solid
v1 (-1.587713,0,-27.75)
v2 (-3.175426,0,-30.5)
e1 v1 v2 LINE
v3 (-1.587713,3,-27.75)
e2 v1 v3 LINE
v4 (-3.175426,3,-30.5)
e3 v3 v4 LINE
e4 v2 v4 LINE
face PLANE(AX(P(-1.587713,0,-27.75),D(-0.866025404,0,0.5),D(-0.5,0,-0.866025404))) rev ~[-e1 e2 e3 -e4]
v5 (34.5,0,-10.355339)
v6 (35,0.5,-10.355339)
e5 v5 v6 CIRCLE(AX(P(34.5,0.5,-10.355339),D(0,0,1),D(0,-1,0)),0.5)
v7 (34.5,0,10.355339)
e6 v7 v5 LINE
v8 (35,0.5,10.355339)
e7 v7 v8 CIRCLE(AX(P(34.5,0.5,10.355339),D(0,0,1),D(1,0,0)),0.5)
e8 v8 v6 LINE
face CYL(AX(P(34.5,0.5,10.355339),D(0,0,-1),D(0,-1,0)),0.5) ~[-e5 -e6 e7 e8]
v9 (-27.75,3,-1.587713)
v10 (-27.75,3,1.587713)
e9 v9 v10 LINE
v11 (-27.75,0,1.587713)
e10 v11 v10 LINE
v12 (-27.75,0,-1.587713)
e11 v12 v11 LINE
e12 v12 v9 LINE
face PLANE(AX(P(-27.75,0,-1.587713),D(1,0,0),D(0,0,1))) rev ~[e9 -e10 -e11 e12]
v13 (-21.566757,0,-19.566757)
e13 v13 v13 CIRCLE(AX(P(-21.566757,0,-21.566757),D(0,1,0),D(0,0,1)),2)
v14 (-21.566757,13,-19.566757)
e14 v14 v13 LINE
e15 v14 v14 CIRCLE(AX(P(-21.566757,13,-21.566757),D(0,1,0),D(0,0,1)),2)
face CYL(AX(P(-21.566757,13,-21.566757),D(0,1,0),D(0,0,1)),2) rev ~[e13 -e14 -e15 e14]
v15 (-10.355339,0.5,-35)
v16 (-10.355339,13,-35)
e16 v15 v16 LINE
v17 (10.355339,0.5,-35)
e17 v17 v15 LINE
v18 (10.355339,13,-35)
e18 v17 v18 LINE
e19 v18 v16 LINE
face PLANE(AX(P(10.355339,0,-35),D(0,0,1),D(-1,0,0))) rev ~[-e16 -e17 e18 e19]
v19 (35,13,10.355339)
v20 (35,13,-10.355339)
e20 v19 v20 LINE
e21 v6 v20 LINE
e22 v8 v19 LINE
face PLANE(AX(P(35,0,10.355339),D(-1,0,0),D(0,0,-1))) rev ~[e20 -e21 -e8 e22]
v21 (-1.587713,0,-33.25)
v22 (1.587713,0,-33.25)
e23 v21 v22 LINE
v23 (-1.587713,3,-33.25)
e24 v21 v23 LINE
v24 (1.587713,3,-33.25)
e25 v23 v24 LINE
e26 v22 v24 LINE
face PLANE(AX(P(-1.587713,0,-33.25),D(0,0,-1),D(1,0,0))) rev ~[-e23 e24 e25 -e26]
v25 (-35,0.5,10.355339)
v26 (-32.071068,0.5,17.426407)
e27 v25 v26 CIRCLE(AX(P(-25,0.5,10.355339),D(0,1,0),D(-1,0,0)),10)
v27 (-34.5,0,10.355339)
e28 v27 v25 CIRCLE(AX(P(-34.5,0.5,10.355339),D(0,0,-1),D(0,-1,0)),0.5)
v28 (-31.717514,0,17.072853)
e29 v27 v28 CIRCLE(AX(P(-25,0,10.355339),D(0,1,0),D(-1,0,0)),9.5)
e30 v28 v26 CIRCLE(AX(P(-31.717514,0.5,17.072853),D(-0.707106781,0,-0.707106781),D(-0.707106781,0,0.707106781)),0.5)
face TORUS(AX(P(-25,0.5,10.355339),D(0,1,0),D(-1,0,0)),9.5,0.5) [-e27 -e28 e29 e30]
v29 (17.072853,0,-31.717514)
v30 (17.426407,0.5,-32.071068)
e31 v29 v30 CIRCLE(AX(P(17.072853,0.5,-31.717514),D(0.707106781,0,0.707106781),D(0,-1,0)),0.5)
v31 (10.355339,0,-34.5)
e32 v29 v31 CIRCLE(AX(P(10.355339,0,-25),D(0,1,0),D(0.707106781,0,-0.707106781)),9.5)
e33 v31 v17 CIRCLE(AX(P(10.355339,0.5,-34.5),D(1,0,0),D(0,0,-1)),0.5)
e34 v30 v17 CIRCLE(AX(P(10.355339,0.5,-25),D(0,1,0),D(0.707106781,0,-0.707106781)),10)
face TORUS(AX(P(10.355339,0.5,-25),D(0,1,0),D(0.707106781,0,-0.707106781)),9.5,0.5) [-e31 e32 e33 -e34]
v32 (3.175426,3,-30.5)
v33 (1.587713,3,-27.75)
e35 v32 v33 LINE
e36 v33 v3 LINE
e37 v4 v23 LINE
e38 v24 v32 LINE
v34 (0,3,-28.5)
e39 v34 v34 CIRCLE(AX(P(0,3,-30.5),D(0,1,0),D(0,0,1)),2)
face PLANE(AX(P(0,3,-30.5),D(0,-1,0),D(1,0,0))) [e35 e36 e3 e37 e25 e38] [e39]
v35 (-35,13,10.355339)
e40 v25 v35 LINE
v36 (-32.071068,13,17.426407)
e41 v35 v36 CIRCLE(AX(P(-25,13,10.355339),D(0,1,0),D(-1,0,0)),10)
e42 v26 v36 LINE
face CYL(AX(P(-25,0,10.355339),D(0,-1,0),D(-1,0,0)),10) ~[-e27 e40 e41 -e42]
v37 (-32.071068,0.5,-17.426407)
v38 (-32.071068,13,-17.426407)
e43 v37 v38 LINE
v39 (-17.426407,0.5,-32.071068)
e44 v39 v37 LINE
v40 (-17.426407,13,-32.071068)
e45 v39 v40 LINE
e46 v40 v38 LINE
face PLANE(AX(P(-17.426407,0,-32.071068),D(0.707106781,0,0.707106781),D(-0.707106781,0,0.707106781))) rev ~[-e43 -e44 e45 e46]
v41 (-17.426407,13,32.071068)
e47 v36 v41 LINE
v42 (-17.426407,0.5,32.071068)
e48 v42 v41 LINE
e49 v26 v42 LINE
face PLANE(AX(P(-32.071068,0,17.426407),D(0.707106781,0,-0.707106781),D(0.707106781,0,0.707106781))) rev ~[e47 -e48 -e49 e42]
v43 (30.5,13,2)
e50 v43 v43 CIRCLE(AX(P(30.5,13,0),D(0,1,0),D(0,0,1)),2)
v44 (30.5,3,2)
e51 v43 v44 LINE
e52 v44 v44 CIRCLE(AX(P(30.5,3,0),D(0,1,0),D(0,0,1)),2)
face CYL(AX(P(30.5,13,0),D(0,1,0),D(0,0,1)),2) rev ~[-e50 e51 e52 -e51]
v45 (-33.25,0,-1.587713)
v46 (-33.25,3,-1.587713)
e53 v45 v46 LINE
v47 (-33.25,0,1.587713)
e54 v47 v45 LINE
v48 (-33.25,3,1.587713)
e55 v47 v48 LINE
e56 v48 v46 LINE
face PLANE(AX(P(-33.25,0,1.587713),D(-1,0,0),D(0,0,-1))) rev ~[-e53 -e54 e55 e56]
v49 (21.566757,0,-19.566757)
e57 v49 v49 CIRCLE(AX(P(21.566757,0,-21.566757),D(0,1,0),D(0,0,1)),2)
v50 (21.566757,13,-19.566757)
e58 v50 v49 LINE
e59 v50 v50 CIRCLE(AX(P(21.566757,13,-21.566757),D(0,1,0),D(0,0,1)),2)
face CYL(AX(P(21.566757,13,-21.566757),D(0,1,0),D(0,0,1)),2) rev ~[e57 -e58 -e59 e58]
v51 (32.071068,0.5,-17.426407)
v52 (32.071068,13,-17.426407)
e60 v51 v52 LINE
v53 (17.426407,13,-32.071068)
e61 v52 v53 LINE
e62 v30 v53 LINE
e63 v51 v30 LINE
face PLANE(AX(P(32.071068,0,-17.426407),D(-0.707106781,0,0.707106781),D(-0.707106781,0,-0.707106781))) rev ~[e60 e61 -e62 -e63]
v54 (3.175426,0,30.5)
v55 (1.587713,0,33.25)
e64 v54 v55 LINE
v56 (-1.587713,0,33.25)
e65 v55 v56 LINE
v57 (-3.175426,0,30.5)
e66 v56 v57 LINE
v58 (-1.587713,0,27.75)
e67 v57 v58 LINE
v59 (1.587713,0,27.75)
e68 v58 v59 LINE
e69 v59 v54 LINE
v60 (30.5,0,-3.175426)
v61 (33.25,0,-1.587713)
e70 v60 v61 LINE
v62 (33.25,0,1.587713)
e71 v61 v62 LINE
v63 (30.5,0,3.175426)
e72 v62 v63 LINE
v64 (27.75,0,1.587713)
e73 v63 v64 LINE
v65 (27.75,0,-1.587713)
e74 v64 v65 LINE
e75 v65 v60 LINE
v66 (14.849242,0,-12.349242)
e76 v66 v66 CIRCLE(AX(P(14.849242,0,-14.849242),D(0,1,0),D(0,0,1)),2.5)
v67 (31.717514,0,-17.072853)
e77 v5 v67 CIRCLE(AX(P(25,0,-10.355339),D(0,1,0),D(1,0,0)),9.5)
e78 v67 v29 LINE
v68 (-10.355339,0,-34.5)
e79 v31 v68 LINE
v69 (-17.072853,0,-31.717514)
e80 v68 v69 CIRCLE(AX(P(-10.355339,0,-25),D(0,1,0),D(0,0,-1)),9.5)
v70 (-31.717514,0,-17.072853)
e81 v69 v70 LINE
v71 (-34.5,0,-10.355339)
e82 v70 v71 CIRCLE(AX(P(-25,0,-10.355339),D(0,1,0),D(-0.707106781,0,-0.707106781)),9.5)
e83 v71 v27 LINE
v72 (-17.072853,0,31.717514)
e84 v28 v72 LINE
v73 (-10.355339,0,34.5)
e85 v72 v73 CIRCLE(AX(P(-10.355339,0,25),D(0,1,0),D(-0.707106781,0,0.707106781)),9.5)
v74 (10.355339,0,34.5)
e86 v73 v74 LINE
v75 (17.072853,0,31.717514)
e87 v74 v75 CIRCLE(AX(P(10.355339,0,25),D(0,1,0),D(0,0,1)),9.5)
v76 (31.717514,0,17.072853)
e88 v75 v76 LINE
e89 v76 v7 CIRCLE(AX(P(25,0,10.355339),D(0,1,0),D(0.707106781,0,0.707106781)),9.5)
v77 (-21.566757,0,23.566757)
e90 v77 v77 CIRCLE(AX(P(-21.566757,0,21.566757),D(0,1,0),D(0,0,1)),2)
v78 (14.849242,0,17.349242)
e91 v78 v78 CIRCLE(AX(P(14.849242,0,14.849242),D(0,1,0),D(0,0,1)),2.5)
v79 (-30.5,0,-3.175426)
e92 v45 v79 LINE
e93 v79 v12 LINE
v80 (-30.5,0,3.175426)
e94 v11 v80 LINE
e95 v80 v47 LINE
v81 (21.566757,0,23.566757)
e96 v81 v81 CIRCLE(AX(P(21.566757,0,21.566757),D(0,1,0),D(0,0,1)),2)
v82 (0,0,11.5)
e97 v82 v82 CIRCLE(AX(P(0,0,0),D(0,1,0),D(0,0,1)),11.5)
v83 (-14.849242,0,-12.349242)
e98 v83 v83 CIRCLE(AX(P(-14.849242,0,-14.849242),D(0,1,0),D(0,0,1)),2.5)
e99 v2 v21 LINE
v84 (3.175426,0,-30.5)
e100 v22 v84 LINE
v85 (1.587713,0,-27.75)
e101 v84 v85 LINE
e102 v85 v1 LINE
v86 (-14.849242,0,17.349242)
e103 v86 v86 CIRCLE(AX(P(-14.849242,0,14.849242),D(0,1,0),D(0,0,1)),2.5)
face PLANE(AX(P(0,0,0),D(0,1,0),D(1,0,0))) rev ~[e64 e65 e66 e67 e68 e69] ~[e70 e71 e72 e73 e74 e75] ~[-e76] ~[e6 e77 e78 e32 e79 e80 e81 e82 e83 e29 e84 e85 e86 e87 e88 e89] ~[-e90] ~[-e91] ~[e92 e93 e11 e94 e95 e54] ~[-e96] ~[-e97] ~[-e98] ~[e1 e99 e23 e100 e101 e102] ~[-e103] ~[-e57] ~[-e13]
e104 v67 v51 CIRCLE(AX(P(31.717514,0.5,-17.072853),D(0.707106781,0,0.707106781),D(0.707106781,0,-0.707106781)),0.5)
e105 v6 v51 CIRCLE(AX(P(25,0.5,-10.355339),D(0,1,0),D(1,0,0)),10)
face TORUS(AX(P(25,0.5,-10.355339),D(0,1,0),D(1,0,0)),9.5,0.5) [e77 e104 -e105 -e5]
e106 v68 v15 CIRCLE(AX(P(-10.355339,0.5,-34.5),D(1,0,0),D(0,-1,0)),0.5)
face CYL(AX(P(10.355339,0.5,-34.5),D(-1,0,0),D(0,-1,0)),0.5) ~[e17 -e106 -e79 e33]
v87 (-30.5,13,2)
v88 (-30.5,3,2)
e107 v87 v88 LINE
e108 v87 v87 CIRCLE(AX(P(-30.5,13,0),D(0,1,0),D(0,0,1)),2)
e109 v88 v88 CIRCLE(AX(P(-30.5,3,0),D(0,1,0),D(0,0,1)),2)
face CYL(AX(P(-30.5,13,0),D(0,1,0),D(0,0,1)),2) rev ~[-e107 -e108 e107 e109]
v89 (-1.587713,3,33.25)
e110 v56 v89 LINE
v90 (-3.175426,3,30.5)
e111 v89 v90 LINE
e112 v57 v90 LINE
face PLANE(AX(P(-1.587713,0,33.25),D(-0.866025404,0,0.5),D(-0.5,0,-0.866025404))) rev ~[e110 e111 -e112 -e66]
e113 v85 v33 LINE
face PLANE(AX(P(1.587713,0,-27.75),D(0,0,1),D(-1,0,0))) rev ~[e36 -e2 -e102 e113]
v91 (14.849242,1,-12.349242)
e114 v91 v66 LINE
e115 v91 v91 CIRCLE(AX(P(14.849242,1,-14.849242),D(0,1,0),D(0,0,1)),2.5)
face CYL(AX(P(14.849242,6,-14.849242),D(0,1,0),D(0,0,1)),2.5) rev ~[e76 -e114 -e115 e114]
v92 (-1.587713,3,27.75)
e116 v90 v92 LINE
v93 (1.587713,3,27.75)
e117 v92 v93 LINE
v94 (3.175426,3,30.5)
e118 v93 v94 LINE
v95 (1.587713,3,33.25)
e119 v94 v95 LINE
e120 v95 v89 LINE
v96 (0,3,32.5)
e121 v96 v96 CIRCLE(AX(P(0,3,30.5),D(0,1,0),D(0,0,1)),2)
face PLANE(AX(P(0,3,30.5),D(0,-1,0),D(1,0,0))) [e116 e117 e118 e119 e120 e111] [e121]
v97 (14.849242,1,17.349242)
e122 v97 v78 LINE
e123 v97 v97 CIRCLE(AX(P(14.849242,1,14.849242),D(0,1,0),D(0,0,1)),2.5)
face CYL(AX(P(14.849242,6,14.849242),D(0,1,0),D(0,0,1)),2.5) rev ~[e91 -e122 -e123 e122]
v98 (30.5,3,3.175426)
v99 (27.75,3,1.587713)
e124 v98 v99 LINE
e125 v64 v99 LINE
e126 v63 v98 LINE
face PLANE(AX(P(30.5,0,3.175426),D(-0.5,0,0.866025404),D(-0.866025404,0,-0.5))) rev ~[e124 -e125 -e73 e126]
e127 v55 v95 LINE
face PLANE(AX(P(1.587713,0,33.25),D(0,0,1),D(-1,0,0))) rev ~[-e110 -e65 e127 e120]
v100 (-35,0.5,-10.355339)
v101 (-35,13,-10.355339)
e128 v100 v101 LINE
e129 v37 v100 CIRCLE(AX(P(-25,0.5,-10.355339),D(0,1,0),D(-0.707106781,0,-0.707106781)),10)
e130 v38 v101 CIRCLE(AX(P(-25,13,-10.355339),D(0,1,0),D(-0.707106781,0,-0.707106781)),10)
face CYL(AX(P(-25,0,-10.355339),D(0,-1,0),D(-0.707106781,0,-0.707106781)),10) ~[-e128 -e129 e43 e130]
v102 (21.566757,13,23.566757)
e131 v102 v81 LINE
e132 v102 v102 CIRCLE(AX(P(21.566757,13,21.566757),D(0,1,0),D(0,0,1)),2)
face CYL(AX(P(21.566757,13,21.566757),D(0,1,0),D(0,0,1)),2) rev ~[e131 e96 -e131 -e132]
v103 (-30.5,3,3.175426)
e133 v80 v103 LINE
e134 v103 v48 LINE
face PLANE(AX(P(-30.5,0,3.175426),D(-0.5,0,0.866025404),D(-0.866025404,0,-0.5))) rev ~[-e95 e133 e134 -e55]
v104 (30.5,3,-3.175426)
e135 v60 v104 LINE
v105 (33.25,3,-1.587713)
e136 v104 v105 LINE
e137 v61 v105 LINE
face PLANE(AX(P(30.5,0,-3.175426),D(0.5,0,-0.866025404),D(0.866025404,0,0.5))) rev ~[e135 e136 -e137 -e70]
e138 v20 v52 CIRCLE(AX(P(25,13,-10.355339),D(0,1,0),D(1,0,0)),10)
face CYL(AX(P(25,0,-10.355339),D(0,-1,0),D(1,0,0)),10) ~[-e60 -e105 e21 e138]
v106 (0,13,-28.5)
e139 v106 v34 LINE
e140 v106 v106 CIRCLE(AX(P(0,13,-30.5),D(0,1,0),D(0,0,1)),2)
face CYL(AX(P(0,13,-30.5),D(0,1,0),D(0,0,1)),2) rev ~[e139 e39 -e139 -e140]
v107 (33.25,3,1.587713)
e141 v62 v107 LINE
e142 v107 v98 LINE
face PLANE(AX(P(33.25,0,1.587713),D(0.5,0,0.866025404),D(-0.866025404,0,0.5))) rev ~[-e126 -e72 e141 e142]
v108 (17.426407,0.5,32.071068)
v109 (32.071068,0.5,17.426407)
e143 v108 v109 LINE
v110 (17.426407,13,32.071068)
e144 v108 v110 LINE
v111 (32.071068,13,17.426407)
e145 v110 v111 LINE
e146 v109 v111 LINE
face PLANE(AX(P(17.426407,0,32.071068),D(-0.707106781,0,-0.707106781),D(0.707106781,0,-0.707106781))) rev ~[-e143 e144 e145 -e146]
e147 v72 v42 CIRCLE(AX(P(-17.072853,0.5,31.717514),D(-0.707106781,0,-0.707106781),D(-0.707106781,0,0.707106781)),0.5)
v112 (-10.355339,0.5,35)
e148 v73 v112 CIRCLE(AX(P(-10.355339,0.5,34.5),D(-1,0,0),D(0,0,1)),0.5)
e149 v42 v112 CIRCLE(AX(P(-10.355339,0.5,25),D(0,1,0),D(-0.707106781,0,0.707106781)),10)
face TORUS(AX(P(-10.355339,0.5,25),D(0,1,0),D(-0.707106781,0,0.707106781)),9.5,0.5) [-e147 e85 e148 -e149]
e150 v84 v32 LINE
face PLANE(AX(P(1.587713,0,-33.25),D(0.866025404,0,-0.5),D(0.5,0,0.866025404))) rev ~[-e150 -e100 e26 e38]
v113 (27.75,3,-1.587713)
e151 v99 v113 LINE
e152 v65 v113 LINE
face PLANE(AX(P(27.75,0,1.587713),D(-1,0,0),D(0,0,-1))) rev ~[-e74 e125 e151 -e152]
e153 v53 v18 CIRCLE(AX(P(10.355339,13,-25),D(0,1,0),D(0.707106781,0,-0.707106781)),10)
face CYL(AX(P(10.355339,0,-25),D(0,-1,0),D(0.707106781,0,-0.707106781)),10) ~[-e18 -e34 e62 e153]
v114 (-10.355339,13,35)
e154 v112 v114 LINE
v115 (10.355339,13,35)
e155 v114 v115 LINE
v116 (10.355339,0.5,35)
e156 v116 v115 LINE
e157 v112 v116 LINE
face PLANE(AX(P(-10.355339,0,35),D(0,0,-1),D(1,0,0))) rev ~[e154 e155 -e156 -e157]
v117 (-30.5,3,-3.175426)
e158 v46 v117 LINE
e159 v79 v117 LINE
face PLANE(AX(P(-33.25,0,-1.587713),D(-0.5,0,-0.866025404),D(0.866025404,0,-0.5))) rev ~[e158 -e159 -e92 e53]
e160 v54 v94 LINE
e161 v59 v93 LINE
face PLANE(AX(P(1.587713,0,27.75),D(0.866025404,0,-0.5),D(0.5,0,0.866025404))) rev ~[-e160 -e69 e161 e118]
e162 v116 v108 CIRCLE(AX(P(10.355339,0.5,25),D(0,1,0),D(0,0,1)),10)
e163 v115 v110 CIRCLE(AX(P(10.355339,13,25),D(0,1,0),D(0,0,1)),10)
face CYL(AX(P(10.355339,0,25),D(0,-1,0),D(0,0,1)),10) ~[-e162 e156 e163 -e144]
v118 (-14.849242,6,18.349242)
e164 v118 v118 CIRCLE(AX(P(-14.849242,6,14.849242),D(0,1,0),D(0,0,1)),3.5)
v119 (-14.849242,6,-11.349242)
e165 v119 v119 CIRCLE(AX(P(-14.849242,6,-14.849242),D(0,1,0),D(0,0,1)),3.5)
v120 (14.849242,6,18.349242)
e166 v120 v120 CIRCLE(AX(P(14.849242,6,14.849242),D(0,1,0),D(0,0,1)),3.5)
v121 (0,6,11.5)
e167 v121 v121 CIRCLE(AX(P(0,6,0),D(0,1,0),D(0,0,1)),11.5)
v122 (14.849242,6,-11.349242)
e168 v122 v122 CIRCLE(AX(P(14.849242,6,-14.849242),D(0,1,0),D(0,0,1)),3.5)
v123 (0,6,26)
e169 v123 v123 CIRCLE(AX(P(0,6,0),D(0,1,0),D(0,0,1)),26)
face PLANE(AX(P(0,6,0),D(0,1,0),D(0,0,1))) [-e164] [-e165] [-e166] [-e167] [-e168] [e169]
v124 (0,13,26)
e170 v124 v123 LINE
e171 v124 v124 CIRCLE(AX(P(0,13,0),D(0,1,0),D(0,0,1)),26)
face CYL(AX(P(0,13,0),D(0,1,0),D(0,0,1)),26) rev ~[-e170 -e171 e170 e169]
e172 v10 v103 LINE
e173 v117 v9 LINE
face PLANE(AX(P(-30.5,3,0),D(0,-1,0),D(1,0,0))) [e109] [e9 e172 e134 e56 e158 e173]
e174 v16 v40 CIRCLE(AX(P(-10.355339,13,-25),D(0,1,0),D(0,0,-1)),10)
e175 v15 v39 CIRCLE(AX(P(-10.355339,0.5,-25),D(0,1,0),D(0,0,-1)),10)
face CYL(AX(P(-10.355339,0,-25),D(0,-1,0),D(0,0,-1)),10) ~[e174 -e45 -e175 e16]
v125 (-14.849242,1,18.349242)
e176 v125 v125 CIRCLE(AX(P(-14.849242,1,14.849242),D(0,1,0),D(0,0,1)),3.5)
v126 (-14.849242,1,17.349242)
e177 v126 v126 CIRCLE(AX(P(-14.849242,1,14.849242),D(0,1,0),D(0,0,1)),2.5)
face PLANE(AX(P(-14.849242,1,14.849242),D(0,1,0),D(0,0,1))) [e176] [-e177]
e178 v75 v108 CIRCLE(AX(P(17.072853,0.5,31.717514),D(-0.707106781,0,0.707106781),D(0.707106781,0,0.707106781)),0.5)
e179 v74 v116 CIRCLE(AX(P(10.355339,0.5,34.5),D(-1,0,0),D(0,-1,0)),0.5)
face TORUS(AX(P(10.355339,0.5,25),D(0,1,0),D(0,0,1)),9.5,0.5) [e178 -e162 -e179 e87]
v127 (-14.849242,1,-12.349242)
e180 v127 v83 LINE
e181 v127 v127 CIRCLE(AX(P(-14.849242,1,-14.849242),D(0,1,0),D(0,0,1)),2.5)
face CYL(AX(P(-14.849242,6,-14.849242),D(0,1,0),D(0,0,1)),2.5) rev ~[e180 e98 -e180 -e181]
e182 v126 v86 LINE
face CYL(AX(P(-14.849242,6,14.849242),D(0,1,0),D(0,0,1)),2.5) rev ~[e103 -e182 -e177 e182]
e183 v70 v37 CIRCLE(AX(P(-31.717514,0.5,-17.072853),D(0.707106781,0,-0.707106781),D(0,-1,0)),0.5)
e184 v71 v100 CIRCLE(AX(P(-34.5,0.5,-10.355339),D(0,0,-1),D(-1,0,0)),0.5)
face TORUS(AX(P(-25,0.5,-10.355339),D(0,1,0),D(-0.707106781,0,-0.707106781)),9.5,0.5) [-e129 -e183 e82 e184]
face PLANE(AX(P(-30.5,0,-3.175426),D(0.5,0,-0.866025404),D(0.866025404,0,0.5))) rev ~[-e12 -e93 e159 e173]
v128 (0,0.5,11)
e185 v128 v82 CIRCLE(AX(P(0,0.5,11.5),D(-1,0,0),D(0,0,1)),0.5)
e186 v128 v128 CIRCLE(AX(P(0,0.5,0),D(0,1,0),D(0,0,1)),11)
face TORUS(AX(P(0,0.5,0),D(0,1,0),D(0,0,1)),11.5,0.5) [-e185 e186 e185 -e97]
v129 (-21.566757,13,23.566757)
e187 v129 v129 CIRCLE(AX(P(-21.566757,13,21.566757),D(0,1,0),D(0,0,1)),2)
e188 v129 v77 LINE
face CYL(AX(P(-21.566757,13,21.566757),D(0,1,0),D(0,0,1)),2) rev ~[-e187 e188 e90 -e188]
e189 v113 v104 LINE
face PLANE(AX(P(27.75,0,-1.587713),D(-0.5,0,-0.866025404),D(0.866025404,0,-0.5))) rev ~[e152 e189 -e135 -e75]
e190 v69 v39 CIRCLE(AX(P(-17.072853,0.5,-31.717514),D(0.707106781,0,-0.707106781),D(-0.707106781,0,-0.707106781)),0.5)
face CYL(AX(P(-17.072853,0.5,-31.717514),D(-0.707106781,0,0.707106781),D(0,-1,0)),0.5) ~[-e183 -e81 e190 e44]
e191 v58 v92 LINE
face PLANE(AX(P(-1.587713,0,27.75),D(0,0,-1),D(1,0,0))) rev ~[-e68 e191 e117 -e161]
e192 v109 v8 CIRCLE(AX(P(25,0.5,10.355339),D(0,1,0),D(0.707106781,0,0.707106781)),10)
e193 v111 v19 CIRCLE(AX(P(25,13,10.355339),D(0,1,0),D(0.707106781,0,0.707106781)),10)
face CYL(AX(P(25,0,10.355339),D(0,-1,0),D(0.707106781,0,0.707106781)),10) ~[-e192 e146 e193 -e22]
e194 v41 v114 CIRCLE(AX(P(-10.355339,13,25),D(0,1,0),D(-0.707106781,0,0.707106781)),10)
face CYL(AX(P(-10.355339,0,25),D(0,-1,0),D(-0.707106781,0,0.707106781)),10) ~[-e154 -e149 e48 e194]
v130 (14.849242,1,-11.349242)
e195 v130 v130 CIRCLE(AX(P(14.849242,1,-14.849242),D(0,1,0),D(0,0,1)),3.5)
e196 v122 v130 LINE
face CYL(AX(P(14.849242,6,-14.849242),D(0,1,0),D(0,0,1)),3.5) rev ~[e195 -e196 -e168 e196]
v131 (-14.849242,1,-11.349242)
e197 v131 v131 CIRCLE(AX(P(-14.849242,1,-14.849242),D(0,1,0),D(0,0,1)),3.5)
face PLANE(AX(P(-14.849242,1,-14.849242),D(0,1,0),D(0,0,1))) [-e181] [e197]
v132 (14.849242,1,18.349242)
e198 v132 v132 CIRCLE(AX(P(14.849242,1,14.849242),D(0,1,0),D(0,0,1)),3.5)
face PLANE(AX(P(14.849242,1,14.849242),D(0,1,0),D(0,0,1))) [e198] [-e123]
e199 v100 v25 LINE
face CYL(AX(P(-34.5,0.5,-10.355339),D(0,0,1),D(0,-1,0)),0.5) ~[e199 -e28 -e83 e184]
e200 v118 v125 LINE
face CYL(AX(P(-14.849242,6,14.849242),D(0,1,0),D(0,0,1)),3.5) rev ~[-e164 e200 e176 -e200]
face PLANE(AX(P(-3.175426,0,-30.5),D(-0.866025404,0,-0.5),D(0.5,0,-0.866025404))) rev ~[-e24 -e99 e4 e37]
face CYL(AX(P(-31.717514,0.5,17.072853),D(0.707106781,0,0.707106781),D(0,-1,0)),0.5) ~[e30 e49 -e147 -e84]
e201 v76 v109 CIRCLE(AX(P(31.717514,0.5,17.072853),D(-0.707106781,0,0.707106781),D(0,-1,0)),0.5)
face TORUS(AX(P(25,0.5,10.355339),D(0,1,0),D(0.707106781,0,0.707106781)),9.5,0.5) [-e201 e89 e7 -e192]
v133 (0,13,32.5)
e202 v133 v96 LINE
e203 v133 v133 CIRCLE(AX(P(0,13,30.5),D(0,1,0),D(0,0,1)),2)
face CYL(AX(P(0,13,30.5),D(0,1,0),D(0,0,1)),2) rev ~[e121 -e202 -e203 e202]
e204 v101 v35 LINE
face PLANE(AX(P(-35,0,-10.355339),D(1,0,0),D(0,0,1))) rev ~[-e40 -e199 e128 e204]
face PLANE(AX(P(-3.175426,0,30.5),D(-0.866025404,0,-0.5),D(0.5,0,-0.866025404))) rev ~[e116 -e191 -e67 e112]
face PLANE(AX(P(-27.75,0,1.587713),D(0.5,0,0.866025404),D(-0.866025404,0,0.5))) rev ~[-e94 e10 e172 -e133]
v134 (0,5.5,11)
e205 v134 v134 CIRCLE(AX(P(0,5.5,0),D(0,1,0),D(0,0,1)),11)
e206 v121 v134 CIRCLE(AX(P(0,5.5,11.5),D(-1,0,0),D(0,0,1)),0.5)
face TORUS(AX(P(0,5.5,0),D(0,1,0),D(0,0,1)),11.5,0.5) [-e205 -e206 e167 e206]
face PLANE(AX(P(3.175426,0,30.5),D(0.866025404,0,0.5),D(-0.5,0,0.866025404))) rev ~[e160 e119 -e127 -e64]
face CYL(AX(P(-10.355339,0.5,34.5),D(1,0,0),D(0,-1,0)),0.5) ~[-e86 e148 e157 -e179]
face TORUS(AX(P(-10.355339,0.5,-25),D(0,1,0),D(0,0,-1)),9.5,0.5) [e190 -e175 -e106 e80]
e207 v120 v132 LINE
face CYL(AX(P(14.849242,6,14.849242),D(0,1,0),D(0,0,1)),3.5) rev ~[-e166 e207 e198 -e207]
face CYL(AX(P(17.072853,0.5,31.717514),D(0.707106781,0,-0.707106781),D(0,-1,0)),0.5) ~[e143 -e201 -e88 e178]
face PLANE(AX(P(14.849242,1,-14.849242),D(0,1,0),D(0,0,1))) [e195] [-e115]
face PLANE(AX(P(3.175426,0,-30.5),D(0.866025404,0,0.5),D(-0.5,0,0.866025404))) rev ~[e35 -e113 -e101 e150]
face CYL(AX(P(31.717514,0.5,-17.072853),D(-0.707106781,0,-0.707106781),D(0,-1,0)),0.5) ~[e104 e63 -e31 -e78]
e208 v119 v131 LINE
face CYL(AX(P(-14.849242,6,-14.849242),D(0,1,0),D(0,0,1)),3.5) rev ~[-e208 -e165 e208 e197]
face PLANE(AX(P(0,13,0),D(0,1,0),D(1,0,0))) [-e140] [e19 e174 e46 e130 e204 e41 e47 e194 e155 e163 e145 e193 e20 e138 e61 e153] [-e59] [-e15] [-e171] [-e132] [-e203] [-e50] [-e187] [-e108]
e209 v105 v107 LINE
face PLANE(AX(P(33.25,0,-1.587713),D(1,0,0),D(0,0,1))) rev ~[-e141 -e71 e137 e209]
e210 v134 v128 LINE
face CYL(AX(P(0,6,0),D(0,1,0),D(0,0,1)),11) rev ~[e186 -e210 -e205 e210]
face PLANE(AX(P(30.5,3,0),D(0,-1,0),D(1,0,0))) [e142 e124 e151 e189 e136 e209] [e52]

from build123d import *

# Parameters (mm, degrees)
SKETCH1_R           = 32
BOSS_EXTRUDE1_DEPTH = 13
SKETCH2_R           = 27
CUT_EXTRUDE1_DEPTH  = 7
SKETCH3_R           = 2.5
CUT_EXTRUDE2_DEPTH  = 46.793012567
SKETCH4_R           = 3.5
CUT_EXTRUDE3_DEPTH  = 5
BOSS_EXTRUDE2_START = 7
SKETCH7_R           = 27
SKETCH7_R_2         = 26
BOSS_EXTRUDE2_DEPTH = 7
SKETCH8_R           = 11
CUT_EXTRUDE6_DEPTH  = 46.793012567
FILLET2_R           = 0.5
SKETCH10_R          = 32
BOSS_EXTRUDE3_DEPTH = 13
SKETCH11_R          = 2
CUT_EXTRUDE9_DEPTH  = 52.176166328
FILLET3_R           = 0.5
SKETCH5_R           = 2
CUT_EXTRUDE11_DEPTH = 52.176166464
CUT_EXTRUDE12_DEPTH = 3


with BuildPart() as part:
    # Sketch1 → Boss-Extrude1 (new body)
    with BuildSketch(Plane(origin=(0, 0, 0), x_dir=(1, 0, 0), z_dir=(0, 1, 0))):
        with Locations(Location((0, 0, 0), (0, 0, 90))):
            Circle(SKETCH1_R)
    extrude(amount=BOSS_EXTRUDE1_DEPTH)

    # Sketch2 → Cut-Extrude1 (cut)
    with BuildSketch(Plane(origin=(0, 13, 0), x_dir=(1, 0, 0), z_dir=(0, 1, 0))):
        with Locations(Location((0, 0, 0), (0, 0, 270))):
            Circle(SKETCH2_R)
    extrude(amount=-CUT_EXTRUDE1_DEPTH, mode=Mode.SUBTRACT)

    # Sketch3 → Cut-Extrude2 (cut, through all)
    with BuildSketch(Plane(origin=(0, 6, 0), x_dir=(1, 0, 0), z_dir=(0, 1, 0))):
        with Locations(Location((-14.849242405, 14.849242405, 0), (0, 0, 270))):
            Circle(SKETCH3_R)
        with Locations(Location((14.849242405, 14.849242405, 0), (0, 0, 270))):
            Circle(SKETCH3_R)
        with Locations(Location((14.849242405, -14.849242405, 0), (0, 0, 270))):
            Circle(SKETCH3_R)
        with Locations(Location((-14.849242405, -14.849242405, 0), (0, 0, 270))):
            Circle(SKETCH3_R)
    extrude(amount=-CUT_EXTRUDE2_DEPTH, mode=Mode.SUBTRACT)

    # Sketch4 → Cut-Extrude3 (cut)
    with BuildSketch(Plane(origin=(0, 6, 0), x_dir=(1, 0, 0), z_dir=(0, 1, 0))):
        with Locations(Location((-14.849242405, 14.849242405, 0), (0, 0, 270))):
            Circle(SKETCH4_R)
        with Locations(Location((14.849242405, 14.849242405, 0), (0, 0, 270))):
            Circle(SKETCH4_R)
        with Locations(Location((14.849242405, -14.849242405, 0), (0, 0, 270))):
            Circle(SKETCH4_R)
        with Locations(Location((-14.849242405, -14.849242405, 0), (0, 0, 270))):
            Circle(SKETCH4_R)
    extrude(amount=-CUT_EXTRUDE3_DEPTH, mode=Mode.SUBTRACT)

    # Sketch7 → Boss-Extrude2 (add)
    with BuildSketch(Plane(origin=(0, 6, 0), x_dir=(1, 0, 0), z_dir=(0, 1, 0)).offset(BOSS_EXTRUDE2_START)):
        Circle(SKETCH7_R)
        with Locations(Location((0, 0, 0), (0, 0, 270))):
            Circle(SKETCH7_R_2, mode=Mode.SUBTRACT)
    extrude(amount=-BOSS_EXTRUDE2_DEPTH)

    # Sketch8 → Cut-Extrude6 (cut, through all)
    with BuildSketch(Plane(origin=(0, 6, 0), x_dir=(1, 0, 0), z_dir=(0, 1, 0))):
        with Locations(Location((0, 0, 0), (0, 0, 270))):
            Circle(SKETCH8_R)
    extrude(amount=-CUT_EXTRUDE6_DEPTH, mode=Mode.SUBTRACT)

    # Fillet2
    fillet2_edges = [part.edges().sort_by_distance(p)[0] for p in [
        (0, 0, -11),
        (0, 6, -11),
    ]]
    fillet(fillet2_edges, radius=FILLET2_R)

    # Sketch10 → Boss-Extrude3 (add)
    with BuildSketch(Plane(origin=(0, 0, 0), x_dir=(1, 0, 0), z_dir=(0, 1, 0))):
        with BuildLine():
            Line((10.355339059, 35), (-10.355339059, 35))
            ThreePointArc((-10.355339059, 35), (-14.182173383, 34.238795325), (-17.426406871, 32.071067812))
            Line((-17.426406871, 32.071067812), (-32.071067812, 17.426406871))
            ThreePointArc((-32.071067812, 17.426406871), (-34.238795325, 14.182173383), (-35, 10.355339059))
            Line((-35, 10.355339059), (-35, -10.355339059))
            ThreePointArc((-35, -10.355339059), (-34.238795325, -14.182173383), (-32.071067812, -17.426406871))
            Line((-32.071067812, -17.426406871), (-17.426406871, -32.071067812))
            ThreePointArc((-17.426406871, -32.071067812), (-14.182173383, -34.238795325), (-10.355339059, -35))
            Line((-10.355339059, -35), (10.355339059, -35))
            ThreePointArc((10.355339059, -35), (14.182173383, -34.238795325), (17.426406871, -32.071067812))
            Line((17.426406871, -32.071067812), (32.071067812, -17.426406871))
            ThreePointArc((32.071067812, -17.426406871), (34.238795325, -14.182173383), (35, -10.355339059))
            Line((35, -10.355339059), (35, 10.355339059))
            ThreePointArc((35, 10.355339059), (34.238795325, 14.182173383), (32.071067812, 17.426406871))
            Line((32.071067812, 17.426406871), (17.426406871, 32.071067812))
            ThreePointArc((17.426406871, 32.071067812), (14.182173383, 34.238795325), (10.355339059, 35))
        make_face()
        Circle(SKETCH10_R, mode=Mode.SUBTRACT)
    extrude(amount=BOSS_EXTRUDE3_DEPTH)

    # Sketch11 → Cut-Extrude9 (cut, through all)
    with BuildSketch(Plane(origin=(0, 13, 0), x_dir=(1, 0, 0), z_dir=(0, 1, 0))):
        with Locations(Location((-21.566756826, 21.566756826, 0), (0, 0, 270))):
            Circle(SKETCH11_R)
        with Locations(Location((21.566756826, 21.566756826, 0), (0, 0, 270))):
            Circle(SKETCH11_R)
        with Locations(Location((21.566756826, -21.566756826, 0), (0, 0, 270))):
            Circle(SKETCH11_R)
        with Locations(Location((-21.566756826, -21.566756826, 0), (0, 0, 270))):
            Circle(SKETCH11_R)
    extrude(amount=-CUT_EXTRUDE9_DEPTH, mode=Mode.SUBTRACT)

    # Fillet3
    fillet3_edges = [part.edges().sort_by_distance(p)[0] for p in [
        (-14.182173383, 0, 34.238795325),
        (0, 0, 35),
        (14.182173383, 0, 34.238795325),
        (24.748737342, 0, 24.748737342),
        (34.238795325, 0, 14.182173383),
        (35, 0, 0),
        (34.238795325, 0, -14.182173383),
        (24.748737342, 0, -24.748737342),
        (14.182173383, 0, -34.238795325),
        (0, 0, -35),
        (-14.182173383, 0, -34.238795325),
        (-24.748737342, 0, -24.748737342),
        (-34.238795325, 0, -14.182173383),
        (-35, 0, 0),
        (-34.238795325, 0, 14.182173383),
        (-24.748737342, 0, 24.748737342),
    ]]
    fillet(fillet3_edges, radius=FILLET3_R)

    # Sketch5 → Cut-Extrude11 (cut, through all)
    with BuildSketch(Plane(origin=(0, 13, 0), x_dir=(1, 0, 0), z_dir=(0, 1, 0))):
        with Locations(Location((0, 30.5, 0), (0, 0, 270))):
            Circle(SKETCH5_R)
        with Locations(Location((30.5, 0, 0), (0, 0, 270))):
            Circle(SKETCH5_R)
        with Locations(Location((0, -30.5, 0), (0, 0, 270))):
            Circle(SKETCH5_R)
        with Locations(Location((-30.5, 0, 0), (0, 0, 270))):
            Circle(SKETCH5_R)
    extrude(amount=-CUT_EXTRUDE11_DEPTH, mode=Mode.SUBTRACT)

    # Sketch12 → Cut-Extrude12 (cut)
    with BuildSketch(Plane.XZ):
        Polygon((-3.175426481, 30.5), (-1.58771324, 27.75), (1.58771324, 27.75), (3.175426481, 30.5), (1.58771324, 33.25), (-1.58771324, 33.25), align=None)
        Polygon((-30.5, -3.175426481), (-27.75, -1.58771324), (-27.75, 1.58771324), (-30.5, 3.175426481), (-33.25, 1.58771324), (-33.25, -1.58771324), align=None)
        Polygon((30.5, 3.175426481), (27.75, 1.58771324), (27.75, -1.58771324), (30.5, -3.175426481), (33.25, -1.58771324), (33.25, 1.58771324), align=None)
        Polygon((3.175426481, -30.5), (1.58771324, -27.75), (-1.58771324, -27.75), (-3.175426481, -30.5), (-1.58771324, -33.25), (1.58771324, -33.25), align=None)
    extrude(amount=-CUT_EXTRUDE12_DEPTH, mode=Mode.SUBTRACT)


solid = part.part
